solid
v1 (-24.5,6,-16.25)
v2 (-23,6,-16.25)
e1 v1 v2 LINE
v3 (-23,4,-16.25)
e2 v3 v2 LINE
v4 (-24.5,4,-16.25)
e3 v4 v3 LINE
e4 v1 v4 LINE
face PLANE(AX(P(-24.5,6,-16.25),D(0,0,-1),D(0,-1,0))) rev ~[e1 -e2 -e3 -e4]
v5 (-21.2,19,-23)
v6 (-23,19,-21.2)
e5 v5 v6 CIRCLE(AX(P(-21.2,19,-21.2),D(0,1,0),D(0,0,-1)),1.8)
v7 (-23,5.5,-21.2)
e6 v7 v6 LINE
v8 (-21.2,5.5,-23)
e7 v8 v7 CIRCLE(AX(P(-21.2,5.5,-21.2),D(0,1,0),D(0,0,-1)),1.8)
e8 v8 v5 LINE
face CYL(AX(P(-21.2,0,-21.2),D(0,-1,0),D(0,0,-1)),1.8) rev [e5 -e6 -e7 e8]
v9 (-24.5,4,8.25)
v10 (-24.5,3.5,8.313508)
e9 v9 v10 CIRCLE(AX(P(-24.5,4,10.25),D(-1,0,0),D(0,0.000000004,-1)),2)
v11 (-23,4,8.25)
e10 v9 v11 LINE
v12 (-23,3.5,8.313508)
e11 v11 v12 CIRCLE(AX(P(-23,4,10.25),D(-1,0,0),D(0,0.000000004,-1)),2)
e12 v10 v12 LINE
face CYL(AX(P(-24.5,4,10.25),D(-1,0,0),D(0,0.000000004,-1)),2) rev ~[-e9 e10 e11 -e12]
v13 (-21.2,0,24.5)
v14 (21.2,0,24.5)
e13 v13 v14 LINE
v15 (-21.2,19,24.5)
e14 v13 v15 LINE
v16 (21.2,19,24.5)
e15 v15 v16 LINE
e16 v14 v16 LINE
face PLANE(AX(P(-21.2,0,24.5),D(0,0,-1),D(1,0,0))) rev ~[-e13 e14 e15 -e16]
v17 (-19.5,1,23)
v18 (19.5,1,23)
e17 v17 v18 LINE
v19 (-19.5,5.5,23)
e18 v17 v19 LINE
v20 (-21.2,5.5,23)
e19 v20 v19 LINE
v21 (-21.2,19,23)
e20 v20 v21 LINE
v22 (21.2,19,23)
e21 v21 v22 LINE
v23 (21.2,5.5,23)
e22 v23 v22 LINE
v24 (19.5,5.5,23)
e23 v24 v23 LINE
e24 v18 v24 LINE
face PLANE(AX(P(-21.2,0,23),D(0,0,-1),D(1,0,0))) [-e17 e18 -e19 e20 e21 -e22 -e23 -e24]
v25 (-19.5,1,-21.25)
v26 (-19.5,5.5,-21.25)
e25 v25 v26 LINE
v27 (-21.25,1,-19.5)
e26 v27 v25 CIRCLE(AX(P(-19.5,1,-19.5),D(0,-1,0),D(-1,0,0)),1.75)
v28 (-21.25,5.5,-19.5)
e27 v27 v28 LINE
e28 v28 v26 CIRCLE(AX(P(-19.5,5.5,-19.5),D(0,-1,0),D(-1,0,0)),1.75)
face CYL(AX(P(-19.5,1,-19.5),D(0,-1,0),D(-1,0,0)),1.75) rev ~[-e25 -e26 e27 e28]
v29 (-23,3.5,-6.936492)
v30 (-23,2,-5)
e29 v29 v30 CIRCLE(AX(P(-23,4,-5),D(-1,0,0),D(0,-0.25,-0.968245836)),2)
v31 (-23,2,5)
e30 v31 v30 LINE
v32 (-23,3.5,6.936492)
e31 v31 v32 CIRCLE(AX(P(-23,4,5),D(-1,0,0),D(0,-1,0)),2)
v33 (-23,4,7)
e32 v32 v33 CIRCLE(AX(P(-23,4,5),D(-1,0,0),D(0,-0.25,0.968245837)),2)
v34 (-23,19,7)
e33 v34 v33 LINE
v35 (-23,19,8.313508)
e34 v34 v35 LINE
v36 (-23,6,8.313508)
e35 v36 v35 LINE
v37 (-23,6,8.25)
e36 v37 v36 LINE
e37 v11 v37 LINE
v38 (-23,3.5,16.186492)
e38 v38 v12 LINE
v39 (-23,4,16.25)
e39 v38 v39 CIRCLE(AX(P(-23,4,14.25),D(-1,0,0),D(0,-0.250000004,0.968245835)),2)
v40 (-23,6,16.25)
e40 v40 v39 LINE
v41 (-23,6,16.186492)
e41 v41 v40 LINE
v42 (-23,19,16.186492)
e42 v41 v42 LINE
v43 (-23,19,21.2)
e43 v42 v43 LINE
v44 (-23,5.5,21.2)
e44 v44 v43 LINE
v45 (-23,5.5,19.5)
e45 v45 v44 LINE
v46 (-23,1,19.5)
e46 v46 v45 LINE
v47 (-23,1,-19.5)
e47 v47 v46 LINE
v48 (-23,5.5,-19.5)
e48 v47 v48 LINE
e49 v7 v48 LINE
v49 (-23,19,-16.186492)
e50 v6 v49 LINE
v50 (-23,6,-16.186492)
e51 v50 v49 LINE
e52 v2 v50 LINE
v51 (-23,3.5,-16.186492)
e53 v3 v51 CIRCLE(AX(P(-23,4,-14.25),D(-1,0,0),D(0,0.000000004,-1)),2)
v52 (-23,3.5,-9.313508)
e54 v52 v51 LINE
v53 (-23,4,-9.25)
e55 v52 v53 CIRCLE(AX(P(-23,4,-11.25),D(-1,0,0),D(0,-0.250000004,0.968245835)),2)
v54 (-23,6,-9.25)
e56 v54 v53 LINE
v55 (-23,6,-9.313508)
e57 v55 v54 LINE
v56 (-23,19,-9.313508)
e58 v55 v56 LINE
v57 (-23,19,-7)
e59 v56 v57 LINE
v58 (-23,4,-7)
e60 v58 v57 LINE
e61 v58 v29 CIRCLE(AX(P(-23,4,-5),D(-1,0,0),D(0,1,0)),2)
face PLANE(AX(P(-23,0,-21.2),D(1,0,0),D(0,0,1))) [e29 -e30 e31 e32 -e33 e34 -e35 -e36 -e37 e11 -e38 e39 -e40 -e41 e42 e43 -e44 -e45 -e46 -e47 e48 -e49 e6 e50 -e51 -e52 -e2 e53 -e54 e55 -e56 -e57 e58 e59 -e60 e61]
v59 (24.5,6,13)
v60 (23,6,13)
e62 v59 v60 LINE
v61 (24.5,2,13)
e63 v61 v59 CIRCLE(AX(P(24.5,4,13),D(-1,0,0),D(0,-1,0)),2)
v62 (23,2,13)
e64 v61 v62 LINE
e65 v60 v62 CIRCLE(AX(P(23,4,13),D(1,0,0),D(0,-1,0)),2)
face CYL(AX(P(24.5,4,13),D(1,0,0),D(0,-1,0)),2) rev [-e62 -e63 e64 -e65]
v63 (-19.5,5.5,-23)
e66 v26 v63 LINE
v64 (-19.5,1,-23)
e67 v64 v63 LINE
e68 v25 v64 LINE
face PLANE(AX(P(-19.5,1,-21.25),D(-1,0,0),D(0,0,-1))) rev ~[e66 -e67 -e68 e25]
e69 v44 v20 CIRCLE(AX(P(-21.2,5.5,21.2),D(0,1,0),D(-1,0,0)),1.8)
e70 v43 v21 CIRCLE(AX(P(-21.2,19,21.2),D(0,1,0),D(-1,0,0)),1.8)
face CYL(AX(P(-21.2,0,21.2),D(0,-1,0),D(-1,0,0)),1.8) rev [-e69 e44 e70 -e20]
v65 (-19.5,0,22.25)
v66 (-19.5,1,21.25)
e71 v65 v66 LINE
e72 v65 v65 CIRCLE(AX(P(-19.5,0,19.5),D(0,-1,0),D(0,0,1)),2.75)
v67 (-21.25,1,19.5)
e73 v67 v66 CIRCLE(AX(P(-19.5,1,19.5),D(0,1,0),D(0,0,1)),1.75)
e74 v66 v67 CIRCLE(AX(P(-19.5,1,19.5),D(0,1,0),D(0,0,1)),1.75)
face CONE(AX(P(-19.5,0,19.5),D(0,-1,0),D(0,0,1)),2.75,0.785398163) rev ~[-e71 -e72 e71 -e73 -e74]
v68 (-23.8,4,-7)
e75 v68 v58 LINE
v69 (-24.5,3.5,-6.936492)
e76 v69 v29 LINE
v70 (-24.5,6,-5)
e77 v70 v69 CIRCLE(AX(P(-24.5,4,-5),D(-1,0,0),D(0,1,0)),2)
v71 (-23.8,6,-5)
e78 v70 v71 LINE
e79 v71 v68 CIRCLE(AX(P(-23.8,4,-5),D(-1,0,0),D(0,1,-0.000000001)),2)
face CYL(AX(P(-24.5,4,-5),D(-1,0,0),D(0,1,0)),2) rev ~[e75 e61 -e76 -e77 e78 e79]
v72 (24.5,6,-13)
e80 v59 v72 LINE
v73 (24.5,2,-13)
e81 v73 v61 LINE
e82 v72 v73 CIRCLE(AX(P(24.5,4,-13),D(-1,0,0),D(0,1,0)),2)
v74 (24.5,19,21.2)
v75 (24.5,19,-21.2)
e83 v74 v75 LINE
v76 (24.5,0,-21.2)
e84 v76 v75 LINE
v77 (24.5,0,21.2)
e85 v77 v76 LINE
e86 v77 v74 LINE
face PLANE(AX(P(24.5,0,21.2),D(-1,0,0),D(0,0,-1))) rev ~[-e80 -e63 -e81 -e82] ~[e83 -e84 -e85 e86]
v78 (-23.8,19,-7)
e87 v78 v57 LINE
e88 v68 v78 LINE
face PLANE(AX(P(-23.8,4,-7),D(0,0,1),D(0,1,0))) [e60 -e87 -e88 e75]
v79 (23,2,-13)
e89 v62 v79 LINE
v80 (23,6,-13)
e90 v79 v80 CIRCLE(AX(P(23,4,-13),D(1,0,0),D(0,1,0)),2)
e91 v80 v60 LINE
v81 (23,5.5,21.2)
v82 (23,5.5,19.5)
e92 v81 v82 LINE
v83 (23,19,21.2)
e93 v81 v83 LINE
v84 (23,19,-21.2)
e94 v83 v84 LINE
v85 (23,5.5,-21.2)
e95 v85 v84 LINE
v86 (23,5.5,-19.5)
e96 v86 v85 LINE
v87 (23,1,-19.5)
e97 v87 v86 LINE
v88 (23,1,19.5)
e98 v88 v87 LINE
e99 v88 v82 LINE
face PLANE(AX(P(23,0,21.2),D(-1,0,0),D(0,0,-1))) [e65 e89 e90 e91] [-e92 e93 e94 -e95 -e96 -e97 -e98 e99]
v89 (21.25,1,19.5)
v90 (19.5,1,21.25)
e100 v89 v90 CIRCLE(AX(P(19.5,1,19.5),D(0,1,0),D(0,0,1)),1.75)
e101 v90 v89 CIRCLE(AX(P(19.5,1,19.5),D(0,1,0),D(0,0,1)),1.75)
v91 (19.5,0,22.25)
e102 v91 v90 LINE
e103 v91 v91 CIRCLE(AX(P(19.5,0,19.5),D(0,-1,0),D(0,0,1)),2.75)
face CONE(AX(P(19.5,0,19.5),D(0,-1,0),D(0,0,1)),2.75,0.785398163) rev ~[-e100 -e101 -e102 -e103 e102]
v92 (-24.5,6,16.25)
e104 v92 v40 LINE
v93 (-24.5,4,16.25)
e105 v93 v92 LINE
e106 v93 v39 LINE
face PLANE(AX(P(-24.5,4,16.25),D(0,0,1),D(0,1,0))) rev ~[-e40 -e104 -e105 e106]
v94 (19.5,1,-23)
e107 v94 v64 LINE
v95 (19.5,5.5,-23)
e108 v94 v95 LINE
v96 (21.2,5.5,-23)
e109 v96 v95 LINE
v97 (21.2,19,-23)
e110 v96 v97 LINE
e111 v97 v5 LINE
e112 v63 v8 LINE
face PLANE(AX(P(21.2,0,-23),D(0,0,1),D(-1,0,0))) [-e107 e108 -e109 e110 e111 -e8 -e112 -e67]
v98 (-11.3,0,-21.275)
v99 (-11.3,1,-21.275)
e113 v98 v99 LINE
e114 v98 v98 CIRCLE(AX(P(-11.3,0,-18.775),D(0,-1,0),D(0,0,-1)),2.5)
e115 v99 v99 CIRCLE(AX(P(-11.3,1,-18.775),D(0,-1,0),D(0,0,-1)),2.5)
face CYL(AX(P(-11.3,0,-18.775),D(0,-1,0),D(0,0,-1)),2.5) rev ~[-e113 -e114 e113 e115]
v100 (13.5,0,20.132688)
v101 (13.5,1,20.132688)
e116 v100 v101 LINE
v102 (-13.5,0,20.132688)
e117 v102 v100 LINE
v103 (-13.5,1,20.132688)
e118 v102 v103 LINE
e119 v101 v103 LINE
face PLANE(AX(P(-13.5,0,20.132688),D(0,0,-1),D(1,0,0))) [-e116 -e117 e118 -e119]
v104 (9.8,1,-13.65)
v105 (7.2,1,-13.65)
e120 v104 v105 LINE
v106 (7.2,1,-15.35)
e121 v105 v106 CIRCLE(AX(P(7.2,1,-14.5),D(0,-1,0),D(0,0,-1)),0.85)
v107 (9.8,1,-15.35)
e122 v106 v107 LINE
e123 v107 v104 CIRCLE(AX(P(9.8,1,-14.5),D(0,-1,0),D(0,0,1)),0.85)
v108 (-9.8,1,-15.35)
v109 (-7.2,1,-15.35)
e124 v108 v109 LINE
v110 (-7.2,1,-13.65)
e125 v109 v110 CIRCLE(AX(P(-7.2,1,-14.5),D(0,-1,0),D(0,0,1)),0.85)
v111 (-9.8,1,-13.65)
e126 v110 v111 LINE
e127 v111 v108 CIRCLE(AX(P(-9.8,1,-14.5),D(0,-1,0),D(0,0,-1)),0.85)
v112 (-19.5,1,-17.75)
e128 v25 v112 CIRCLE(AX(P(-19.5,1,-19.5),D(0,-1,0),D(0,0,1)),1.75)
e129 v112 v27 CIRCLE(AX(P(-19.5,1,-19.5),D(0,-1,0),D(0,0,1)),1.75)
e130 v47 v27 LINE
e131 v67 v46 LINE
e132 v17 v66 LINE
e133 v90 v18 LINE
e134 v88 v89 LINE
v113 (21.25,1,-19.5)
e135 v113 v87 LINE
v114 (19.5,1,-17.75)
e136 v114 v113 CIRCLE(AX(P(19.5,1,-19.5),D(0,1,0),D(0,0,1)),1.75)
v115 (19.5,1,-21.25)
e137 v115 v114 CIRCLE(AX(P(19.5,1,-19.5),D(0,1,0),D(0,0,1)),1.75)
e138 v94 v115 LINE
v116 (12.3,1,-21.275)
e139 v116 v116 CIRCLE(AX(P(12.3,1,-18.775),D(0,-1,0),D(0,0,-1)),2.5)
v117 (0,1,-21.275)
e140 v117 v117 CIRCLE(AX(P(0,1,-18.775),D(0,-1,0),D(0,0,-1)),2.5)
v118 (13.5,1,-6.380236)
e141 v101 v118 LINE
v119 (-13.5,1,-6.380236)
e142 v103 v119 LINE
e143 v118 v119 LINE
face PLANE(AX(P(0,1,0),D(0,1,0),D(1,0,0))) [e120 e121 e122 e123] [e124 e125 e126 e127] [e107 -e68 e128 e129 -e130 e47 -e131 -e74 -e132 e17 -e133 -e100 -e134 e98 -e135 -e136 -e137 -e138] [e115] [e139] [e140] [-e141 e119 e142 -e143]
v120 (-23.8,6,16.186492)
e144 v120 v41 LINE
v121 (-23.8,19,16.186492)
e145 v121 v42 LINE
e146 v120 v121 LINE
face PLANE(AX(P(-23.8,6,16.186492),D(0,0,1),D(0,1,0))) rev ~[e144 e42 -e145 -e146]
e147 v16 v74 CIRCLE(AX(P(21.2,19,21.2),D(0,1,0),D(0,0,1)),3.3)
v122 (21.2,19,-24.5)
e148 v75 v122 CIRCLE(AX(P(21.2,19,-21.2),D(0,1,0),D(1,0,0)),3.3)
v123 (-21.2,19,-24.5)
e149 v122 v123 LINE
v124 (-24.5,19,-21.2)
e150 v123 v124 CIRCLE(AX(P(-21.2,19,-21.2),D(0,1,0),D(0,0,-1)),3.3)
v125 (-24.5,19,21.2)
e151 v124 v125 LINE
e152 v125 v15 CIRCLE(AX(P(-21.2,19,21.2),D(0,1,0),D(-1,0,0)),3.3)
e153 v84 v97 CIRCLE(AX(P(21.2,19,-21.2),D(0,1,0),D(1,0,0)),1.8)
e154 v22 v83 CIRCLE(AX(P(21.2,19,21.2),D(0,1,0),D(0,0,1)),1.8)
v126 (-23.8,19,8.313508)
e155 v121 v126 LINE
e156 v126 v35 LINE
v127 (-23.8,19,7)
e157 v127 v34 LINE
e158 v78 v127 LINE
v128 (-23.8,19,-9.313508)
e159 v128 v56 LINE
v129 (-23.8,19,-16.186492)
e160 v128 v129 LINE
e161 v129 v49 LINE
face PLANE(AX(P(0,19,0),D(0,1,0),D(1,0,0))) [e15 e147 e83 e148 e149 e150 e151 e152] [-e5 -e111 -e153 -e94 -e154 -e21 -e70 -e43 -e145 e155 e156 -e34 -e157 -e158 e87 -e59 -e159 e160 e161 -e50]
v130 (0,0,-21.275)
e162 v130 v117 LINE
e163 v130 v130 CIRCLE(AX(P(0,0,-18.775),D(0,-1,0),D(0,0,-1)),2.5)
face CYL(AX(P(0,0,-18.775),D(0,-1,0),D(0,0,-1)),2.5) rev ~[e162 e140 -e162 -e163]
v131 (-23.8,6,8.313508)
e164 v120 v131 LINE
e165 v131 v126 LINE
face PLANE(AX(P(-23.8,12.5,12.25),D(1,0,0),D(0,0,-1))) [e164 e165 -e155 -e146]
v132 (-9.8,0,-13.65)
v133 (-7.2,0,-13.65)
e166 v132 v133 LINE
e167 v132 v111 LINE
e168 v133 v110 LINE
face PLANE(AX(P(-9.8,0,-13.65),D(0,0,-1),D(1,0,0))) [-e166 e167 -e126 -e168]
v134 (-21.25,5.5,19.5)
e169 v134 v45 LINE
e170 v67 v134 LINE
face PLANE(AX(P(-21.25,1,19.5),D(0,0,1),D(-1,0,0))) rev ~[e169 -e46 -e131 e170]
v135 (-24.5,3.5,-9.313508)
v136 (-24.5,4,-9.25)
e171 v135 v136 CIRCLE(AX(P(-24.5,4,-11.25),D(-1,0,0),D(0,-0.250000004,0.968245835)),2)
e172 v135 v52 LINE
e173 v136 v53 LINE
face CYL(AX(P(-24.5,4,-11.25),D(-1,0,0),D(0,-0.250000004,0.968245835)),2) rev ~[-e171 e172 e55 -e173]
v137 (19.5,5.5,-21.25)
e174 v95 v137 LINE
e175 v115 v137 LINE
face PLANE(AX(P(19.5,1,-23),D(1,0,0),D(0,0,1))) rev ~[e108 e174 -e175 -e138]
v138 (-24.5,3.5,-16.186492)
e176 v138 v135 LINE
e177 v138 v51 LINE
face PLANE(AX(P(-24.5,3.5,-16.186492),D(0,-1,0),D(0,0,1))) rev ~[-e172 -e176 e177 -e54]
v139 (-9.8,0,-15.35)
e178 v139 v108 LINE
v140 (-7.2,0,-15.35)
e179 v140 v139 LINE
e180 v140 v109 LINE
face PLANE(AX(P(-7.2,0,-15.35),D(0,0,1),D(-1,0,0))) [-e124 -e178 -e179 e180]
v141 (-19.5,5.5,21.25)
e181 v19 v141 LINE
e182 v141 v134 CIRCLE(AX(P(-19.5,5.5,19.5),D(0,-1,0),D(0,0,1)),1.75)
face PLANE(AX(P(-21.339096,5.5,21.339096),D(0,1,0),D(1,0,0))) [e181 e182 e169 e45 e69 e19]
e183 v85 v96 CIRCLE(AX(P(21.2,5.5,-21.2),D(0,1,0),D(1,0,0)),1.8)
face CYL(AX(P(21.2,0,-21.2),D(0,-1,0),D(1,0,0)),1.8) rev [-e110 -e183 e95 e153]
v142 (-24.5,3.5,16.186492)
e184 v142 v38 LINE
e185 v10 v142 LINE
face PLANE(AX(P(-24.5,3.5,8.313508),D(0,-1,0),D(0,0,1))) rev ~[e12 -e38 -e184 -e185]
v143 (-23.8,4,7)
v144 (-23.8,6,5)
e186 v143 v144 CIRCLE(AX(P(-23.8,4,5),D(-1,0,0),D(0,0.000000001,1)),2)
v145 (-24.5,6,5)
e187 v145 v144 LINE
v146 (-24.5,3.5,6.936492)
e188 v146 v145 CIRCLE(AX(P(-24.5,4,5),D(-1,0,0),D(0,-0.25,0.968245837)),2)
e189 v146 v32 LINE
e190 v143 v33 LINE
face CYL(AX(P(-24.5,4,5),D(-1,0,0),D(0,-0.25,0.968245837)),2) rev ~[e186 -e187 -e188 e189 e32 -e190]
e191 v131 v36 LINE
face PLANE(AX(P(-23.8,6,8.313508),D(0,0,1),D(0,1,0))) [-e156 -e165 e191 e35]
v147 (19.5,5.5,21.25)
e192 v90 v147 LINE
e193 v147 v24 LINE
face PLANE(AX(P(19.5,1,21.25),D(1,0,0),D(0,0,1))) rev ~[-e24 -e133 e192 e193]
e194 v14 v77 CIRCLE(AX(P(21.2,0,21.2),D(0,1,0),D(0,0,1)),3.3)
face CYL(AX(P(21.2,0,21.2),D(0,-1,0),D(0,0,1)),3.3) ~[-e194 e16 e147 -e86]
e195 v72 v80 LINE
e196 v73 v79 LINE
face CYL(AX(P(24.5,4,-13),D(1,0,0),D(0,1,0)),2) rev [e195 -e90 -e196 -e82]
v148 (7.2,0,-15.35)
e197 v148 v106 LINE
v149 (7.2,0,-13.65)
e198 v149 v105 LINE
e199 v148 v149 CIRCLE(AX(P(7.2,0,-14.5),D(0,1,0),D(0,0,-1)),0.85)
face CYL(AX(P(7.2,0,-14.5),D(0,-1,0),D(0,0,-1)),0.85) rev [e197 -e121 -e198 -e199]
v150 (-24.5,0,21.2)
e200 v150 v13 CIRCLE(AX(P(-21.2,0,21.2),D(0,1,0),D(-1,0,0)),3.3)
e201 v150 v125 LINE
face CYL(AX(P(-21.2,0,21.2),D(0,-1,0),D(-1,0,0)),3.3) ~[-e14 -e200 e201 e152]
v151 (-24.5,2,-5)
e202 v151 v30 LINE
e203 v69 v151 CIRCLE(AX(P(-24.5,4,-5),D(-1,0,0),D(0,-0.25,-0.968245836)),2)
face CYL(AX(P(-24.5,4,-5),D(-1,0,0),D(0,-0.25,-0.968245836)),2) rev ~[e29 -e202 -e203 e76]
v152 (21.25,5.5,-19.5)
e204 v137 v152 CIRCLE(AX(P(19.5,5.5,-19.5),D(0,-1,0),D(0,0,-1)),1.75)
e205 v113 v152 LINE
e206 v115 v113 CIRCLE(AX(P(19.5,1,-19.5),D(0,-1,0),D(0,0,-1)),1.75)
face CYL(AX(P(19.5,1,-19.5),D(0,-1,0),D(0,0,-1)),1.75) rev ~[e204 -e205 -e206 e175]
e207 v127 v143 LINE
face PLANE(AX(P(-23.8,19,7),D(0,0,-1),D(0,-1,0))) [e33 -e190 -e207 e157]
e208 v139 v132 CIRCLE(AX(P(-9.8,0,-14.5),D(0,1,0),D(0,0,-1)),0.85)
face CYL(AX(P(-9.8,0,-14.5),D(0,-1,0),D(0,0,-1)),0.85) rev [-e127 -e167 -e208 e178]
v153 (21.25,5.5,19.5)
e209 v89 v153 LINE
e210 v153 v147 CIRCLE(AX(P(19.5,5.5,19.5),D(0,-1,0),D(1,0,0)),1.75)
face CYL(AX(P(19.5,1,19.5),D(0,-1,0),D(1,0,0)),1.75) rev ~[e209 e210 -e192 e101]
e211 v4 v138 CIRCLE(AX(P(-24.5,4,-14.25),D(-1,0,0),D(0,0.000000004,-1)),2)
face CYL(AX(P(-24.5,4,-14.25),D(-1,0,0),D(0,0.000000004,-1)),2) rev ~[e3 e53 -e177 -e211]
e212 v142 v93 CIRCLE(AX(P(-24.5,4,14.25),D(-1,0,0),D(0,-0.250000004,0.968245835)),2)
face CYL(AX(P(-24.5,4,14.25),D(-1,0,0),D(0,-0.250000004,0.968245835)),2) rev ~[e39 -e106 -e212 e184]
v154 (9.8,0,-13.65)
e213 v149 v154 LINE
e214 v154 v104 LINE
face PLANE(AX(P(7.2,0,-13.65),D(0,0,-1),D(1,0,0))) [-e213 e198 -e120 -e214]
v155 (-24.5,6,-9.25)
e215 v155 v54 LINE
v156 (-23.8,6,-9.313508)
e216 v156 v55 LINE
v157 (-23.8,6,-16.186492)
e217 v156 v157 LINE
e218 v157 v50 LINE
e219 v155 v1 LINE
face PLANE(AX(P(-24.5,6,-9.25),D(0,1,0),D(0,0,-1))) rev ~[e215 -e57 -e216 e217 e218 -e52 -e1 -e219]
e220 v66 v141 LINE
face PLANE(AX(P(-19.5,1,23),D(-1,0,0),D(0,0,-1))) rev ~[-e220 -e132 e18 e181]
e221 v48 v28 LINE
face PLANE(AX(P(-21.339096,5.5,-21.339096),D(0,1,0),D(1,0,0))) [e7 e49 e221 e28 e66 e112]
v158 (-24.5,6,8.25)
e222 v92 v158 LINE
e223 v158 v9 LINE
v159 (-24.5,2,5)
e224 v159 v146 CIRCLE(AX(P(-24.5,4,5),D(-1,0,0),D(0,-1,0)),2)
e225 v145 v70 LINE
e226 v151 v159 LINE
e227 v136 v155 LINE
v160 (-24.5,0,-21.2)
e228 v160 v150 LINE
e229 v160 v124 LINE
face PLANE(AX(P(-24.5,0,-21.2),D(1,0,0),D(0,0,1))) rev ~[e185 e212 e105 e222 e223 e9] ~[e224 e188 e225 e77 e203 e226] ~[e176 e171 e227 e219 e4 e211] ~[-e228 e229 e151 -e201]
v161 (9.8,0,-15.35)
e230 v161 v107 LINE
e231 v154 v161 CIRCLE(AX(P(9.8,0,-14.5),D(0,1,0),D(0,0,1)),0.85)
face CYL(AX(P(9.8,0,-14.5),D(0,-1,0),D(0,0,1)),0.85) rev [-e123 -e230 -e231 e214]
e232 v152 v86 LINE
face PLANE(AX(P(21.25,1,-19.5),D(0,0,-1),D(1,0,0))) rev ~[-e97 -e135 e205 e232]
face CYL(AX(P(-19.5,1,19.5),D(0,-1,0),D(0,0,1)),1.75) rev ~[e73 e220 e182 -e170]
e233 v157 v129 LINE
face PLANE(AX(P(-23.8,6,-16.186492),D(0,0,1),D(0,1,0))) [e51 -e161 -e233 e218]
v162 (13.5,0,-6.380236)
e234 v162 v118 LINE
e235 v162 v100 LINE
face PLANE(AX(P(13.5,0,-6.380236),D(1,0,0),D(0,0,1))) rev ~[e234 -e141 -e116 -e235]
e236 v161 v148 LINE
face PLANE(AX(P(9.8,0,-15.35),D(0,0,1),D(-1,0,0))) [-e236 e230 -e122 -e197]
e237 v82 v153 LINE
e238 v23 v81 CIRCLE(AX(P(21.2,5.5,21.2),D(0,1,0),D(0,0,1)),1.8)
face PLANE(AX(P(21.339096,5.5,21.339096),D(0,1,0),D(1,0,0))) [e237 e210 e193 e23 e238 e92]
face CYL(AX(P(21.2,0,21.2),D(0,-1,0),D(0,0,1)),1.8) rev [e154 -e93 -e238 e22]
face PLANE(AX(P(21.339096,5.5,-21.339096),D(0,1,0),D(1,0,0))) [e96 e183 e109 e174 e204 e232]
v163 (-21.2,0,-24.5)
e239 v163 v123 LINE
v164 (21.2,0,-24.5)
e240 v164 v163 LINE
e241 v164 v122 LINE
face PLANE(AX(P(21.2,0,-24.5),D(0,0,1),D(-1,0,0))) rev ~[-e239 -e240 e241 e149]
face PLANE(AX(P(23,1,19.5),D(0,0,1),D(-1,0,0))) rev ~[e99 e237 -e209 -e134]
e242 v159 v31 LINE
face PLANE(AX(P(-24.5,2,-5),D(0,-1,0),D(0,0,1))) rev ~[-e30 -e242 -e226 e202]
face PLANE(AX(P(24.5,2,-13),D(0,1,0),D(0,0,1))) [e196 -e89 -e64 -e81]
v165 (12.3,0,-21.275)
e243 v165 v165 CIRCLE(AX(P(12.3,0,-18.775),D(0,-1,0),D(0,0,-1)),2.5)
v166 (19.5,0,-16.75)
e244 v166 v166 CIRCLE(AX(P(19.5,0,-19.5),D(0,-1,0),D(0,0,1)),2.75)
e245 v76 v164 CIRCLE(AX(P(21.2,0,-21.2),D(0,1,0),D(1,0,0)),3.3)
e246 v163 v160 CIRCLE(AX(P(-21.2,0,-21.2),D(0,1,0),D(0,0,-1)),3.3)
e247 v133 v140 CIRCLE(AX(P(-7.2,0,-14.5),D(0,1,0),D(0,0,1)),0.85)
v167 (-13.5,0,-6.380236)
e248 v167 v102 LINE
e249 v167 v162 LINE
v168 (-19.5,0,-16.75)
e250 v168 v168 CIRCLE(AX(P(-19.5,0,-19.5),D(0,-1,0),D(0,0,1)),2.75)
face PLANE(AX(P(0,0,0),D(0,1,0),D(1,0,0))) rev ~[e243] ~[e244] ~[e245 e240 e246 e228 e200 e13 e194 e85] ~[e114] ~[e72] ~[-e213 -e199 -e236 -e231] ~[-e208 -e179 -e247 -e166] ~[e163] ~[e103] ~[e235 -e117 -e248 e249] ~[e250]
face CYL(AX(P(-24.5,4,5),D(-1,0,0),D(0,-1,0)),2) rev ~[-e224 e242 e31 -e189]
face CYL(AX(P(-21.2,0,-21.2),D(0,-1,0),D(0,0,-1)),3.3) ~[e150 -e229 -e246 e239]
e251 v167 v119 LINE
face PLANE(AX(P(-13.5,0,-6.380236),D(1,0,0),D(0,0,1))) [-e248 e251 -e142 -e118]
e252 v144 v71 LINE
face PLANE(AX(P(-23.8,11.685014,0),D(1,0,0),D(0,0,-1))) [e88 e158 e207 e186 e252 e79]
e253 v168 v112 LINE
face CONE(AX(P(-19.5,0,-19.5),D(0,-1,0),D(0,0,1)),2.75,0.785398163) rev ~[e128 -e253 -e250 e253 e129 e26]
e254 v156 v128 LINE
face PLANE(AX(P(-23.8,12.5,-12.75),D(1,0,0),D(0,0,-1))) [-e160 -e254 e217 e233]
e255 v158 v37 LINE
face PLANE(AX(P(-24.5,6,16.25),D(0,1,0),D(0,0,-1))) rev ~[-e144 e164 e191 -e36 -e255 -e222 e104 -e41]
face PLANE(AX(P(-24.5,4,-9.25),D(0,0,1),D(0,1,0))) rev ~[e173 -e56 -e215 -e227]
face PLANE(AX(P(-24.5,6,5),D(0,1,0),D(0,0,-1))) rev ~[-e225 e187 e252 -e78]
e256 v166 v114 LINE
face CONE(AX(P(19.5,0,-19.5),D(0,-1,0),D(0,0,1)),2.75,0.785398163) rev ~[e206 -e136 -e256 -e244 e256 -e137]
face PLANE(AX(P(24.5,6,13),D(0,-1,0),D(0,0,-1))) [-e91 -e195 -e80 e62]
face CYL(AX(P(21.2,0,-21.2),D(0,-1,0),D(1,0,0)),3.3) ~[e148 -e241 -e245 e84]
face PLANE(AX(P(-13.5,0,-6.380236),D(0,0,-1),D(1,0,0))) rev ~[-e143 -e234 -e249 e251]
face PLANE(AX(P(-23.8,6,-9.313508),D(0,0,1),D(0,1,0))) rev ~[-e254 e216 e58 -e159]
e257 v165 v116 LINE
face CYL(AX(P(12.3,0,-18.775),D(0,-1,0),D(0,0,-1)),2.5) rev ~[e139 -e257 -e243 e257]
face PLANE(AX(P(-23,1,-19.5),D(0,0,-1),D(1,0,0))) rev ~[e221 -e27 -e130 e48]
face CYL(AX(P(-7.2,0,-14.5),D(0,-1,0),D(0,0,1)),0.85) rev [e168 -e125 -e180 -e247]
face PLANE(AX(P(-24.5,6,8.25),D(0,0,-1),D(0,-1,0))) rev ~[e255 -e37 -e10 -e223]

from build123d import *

# Parameters (mm, degrees)
EXTRUDE_1_DEPTH                = 19
SKETCH_1_3_R                   = 1.75
EXTRUDE_1_2_DEPTH              = 1
HOLE_WIZARD_M2_5_1_D           = 3.1
HOLE_WIZARD_M2_5_1_DEPTH       = 10
HOLE_WIZARD_M2_5_1_CSINK_D     = 5.5
HOLE_WIZARD_M2_5_1_CSINK_ANGLE = 90
HOLE_WIZARD_M2_5_1_TIP         = 0.931333959
SKETCH_4_R                     = 2.5
SKETCH_4_R_2                   = 1.75
SKETCH_4_W                     = 27
SKETCH_4_H                     = 26.512923835
CUT_EXTRUDE_1_DEPTH            = 143
CUT_EXTRUDE_2_DEPTH            = 21
CUT_EXTRUDE_4_DEPTH            = 27
EXTRUDE_2_DEPTH                = 4.5
CUT_EXTRUDE_START              = -0.8
SKETCH_9_W                     = 7.872983346
SKETCH_9_H                     = 13
SKETCH_9_W_2                   = 6.872983346
CUT_EXTRUDE_5_DEPTH            = 0.8


with BuildPart() as part:
    # 草图1 → Extrude 1 (new body)
    with BuildSketch(Plane(origin=(0, 0, 0), x_dir=(1, 0, 0), z_dir=(0, 1, 0))):
        with BuildLine():
            Line((-24.5, 21.2), (-24.5, -21.2))
            ThreePointArc((-24.5, -21.2), (-23.533452378, -23.533452378), (-21.2, -24.5))
            Line((-21.2, -24.5), (21.2, -24.5))
            ThreePointArc((21.2, -24.5), (23.533452378, -23.533452378), (24.5, -21.2))
            Line((24.5, -21.2), (24.5, 21.2))
            ThreePointArc((24.5, 21.2), (23.533452378, 23.533452378), (21.2, 24.5))
            Line((21.2, 24.5), (-21.2, 24.5))
            ThreePointArc((-21.2, 24.5), (-23.533452378, 23.533452378), (-24.5, 21.2))
        make_face()
        with BuildLine():
            Line((-23, 21.2), (-23, -21.2))
            ThreePointArc((-23, -21.2), (-22.472792206, -22.472792206), (-21.2, -23))
            Line((-21.2, -23), (21.2, -23))
            ThreePointArc((21.2, -23), (22.472792206, -22.472792206), (23, -21.2))
            Line((23, -21.2), (23, 21.2))
            ThreePointArc((23, 21.2), (22.472792206, 22.472792206), (21.2, 23))
            Line((21.2, 23), (-21.2, 23))
            ThreePointArc((-21.2, 23), (-22.472792206, 22.472792206), (-23, 21.2))
        make_face(mode=Mode.SUBTRACT)
    extrude(amount=EXTRUDE_1_DEPTH)

    # 草图1<3> → Extrude 1 2 (add)
    with BuildSketch(Plane(origin=(0, 0, 0), x_dir=(1, 0, 0), z_dir=(0, 1, 0))):
        with BuildLine():
            Line((-21.2, -23), (21.2, -23))
            ThreePointArc((21.2, -23), (22.472792206, -22.472792206), (23, -21.2))
            Line((23, -21.2), (23, 21.2))
            ThreePointArc((23, 21.2), (22.472792206, 22.472792206), (21.2, 23))
            Line((21.2, 23), (-21.2, 23))
            ThreePointArc((-21.2, 23), (-22.472792206, 22.472792206), (-23, 21.2))
            Line((-23, 21.2), (-23, -21.2))
            ThreePointArc((-23, -21.2), (-22.472792206, -22.472792206), (-21.2, -23))
        make_face()
        with Locations(Location((-19.5, 19.5, 0), (0, 0, 270))):
            Circle(SKETCH_1_3_R, mode=Mode.SUBTRACT)
        with Locations(Location((19.5, 19.5, 0), (0, 0, 270))):
            Circle(SKETCH_1_3_R, mode=Mode.SUBTRACT)
        with Locations(Location((19.5, -19.5, 0), (0, 0, 270))):
            Circle(SKETCH_1_3_R, mode=Mode.SUBTRACT)
        with Locations(Location((-19.5, -19.5, 0), (0, 0, 270))):
            Circle(SKETCH_1_3_R, mode=Mode.SUBTRACT)
    extrude(amount=EXTRUDE_1_2_DEPTH)

    # M2.5 平头机械螺钉的锥形沉头孔1
    with Locations(Plane(origin=(-19.5, 0, 19.5), x_dir=(0, 0, -1), z_dir=(0, -1, 0))):
        with Locations((0, 0), (0, 39), (39, 39), (39, 0)):
            CounterSinkHole(HOLE_WIZARD_M2_5_1_D / 2, HOLE_WIZARD_M2_5_1_CSINK_D / 2, depth=HOLE_WIZARD_M2_5_1_DEPTH, counter_sink_angle=HOLE_WIZARD_M2_5_1_CSINK_ANGLE)
            with Locations((0, 0, -(HOLE_WIZARD_M2_5_1_DEPTH + HOLE_WIZARD_M2_5_1_TIP / 2))):  # 118° drill point
                Cone(0, HOLE_WIZARD_M2_5_1_D / 2, HOLE_WIZARD_M2_5_1_TIP, mode=Mode.SUBTRACT)

    # 草图4 → 切除-拉伸1 (cut)
    with BuildSketch(Plane.XZ):
        with Locations(Location((-11.3, -18.775, 0), (0, 0, 270))):
            Circle(SKETCH_4_R)
        with Locations(Location((0, -18.775, 0), (0, 0, 270))):
            Circle(SKETCH_4_R)
        with Locations(Location((12.3, -18.775, 0), (0, 0, 270))):
            Circle(SKETCH_4_R)
        with Locations((-19.5, -19.5)):
            Circle(SKETCH_4_R_2)
        with Locations((0, 6.876225995)):
            Rectangle(SKETCH_4_W, SKETCH_4_H)
        with BuildLine():
            Line((7.2, -13.65), (9.8, -13.65))
            ThreePointArc((9.8, -13.65), (10.65, -14.5), (9.8, -15.35))
            Line((9.8, -15.35), (7.2, -15.35))
            ThreePointArc((7.2, -15.35), (6.35, -14.5), (7.2, -13.65))
        make_face()
        with BuildLine():
            Line((-9.8, -13.65), (-7.2, -13.65))
            ThreePointArc((-7.2, -13.65), (-6.35, -14.5), (-7.2, -15.35))
            Line((-7.2, -15.35), (-9.8, -15.35))
            ThreePointArc((-9.8, -15.35), (-10.65, -14.5), (-9.8, -13.65))
        make_face()
    extrude(amount=-CUT_EXTRUDE_1_DEPTH, mode=Mode.SUBTRACT)

    # 草图5 → 切除-拉伸2 (cut)
    with BuildSketch(Plane.ZY.offset(24.5)):
        with BuildLine():
            Line((-16.186491673, 3.5), (-9.313508327, 3.5))
            ThreePointArc((-9.313508327, 3.5), (-9.265940607, 3.747991415), (-9.25, 4))
            ThreePointArc((-9.25, 4), (-9.835786438, 5.414213562), (-11.25, 6))
            Line((-11.25, 6), (-14.25, 6))
            ThreePointArc((-14.25, 6), (-15.664213562, 5.414213562), (-16.25, 4))
            ThreePointArc((-16.25, 4), (-16.234059393, 3.747991415), (-16.186491673, 3.5))
        make_face()
        with BuildLine():
            Line((-6.936491673, 3.5), (6.936491673, 3.5))
            ThreePointArc((6.936491673, 3.5), (6.58113883, 5.224744871), (5, 6))
            Line((5, 6), (-5, 6))
            ThreePointArc((-5, 6), (-6.58113883, 5.224744871), (-6.936491673, 3.5))
        make_face()
        with BuildLine():
            Line((-5, 2), (5, 2))
            ThreePointArc((5, 2), (6.224744871, 2.41886117), (6.936491673, 3.5))
            Line((6.936491673, 3.5), (-6.936491673, 3.5))
            ThreePointArc((-6.936491673, 3.5), (-6.224744871, 2.41886117), (-5, 2))
        make_face()
        with BuildLine():
            Line((8.313508327, 3.5), (16.186491673, 3.5))
            ThreePointArc((16.186491673, 3.5), (16.234059393, 3.747991415), (16.25, 4))
            ThreePointArc((16.25, 4), (15.664213562, 5.414213562), (14.25, 6))
            Line((14.25, 6), (10.25, 6))
            ThreePointArc((10.25, 6), (8.835786438, 5.414213562), (8.25, 4))
            ThreePointArc((8.25, 4), (8.265940607, 3.747991415), (8.313508327, 3.5))
        make_face()
        with BuildLine():
            Line((-16.25, 6), (-16.25, 4))
            ThreePointArc((-16.25, 4), (-15.664213562, 5.414213562), (-14.25, 6))
            Line((-14.25, 6), (-16.25, 6))
        make_face()
        with BuildLine():
            ThreePointArc((14.25, 6), (15.664213562, 5.414213562), (16.25, 4))
            Line((16.25, 4), (16.25, 6))
            Line((16.25, 6), (14.25, 6))
        make_face()
        with BuildLine():
            ThreePointArc((-11.25, 6), (-9.835786438, 5.414213562), (-9.25, 4))
            Line((-9.25, 4), (-9.25, 6))
            Line((-9.25, 6), (-11.25, 6))
        make_face()
        with BuildLine():
            Line((8.25, 6), (8.25, 4))
            ThreePointArc((8.25, 4), (8.835786438, 5.414213562), (10.25, 6))
            Line((10.25, 6), (8.25, 6))
        make_face()
    extrude(amount=-CUT_EXTRUDE_2_DEPTH, mode=Mode.SUBTRACT)

    # 草图7 → 切除-拉伸4 (cut)
    with BuildSketch(Plane(origin=(24.5, 0, 0), x_dir=(0, 0, -1), z_dir=(1, 0, 0))):
        with BuildLine():
            Line((-13, 6), (13, 6))
            ThreePointArc((13, 6), (15, 4), (13, 2))
            Line((13, 2), (-13, 2))
            ThreePointArc((-13, 2), (-15, 4), (-13, 6))
        make_face()
    extrude(amount=-CUT_EXTRUDE_4_DEPTH, mode=Mode.SUBTRACT)

    # 草图8 → 凸台-拉伸2 (add)
    with BuildSketch(Plane(origin=(0, 1, 0), x_dir=(1, 0, 0), z_dir=(0, 1, 0))):
        with BuildLine():
            Line((-23, 19.5), (-21.25, 19.5))
            ThreePointArc((-21.25, 19.5), (-20.737436867, 20.737436867), (-19.5, 21.25))
            Line((-19.5, 21.25), (-19.5, 23))
            Line((-19.5, 23), (-21.2, 23))
            ThreePointArc((-21.2, 23), (-22.472792206, 22.472792206), (-23, 21.2))
            Line((-23, 21.2), (-23, 19.5))
        make_face()
        with BuildLine():
            Line((-21.25, -19.5), (-23, -19.5))
            Line((-23, -19.5), (-23, -21.2))
            ThreePointArc((-23, -21.2), (-22.472792206, -22.472792206), (-21.2, -23))
            Line((-21.2, -23), (-19.5, -23))
            Line((-19.5, -23), (-19.5, -21.25))
            ThreePointArc((-19.5, -21.25), (-20.737436867, -20.737436867), (-21.25, -19.5))
        make_face()
        with BuildLine():
            Line((19.5, -21.25), (19.5, -23))
            Line((19.5, -23), (21.2, -23))
            ThreePointArc((21.2, -23), (22.472792206, -22.472792206), (23, -21.2))
            Line((23, -21.2), (23, -19.5))
            Line((23, -19.5), (21.25, -19.5))
            ThreePointArc((21.25, -19.5), (20.737436867, -20.737436867), (19.5, -21.25))
        make_face()
        with BuildLine():
            Line((21.2, 23), (19.5, 23))
            Line((19.5, 23), (19.5, 21.25))
            ThreePointArc((19.5, 21.25), (20.737436867, 20.737436867), (21.25, 19.5))
            Line((21.25, 19.5), (23, 19.5))
            Line((23, 19.5), (23, 21.2))
            ThreePointArc((23, 21.2), (22.472792206, 22.472792206), (21.2, 23))
        make_face()
    extrude(amount=EXTRUDE_2_DEPTH)

    # 草图9 → 切除-拉伸5 (cut)
    with BuildSketch(Plane(origin=(-23, 0, 0), x_dir=(0, 0, -1), z_dir=(1, 0, 0)).offset(CUT_EXTRUDE_START)):
        with BuildLine():
            Line((-7, 19), (-7, 4))
            ThreePointArc((-7, 4), (-6.414213562, 5.414213562), (-5, 6))
            Line((-5, 6), (5, 6))
            ThreePointArc((5, 6), (6.414213562, 5.414213562), (7, 4))
            Line((7, 4), (7, 19))
            Line((7, 19), (-7, 19))
        make_face()
        with Locations((-12.25, 12.5)):
            Rectangle(SKETCH_9_W, SKETCH_9_H)
        with Locations((12.75, 12.5)):
            Rectangle(SKETCH_9_W_2, SKETCH_9_H)
    extrude(amount=CUT_EXTRUDE_5_DEPTH, mode=Mode.SUBTRACT)


solid = part.part
